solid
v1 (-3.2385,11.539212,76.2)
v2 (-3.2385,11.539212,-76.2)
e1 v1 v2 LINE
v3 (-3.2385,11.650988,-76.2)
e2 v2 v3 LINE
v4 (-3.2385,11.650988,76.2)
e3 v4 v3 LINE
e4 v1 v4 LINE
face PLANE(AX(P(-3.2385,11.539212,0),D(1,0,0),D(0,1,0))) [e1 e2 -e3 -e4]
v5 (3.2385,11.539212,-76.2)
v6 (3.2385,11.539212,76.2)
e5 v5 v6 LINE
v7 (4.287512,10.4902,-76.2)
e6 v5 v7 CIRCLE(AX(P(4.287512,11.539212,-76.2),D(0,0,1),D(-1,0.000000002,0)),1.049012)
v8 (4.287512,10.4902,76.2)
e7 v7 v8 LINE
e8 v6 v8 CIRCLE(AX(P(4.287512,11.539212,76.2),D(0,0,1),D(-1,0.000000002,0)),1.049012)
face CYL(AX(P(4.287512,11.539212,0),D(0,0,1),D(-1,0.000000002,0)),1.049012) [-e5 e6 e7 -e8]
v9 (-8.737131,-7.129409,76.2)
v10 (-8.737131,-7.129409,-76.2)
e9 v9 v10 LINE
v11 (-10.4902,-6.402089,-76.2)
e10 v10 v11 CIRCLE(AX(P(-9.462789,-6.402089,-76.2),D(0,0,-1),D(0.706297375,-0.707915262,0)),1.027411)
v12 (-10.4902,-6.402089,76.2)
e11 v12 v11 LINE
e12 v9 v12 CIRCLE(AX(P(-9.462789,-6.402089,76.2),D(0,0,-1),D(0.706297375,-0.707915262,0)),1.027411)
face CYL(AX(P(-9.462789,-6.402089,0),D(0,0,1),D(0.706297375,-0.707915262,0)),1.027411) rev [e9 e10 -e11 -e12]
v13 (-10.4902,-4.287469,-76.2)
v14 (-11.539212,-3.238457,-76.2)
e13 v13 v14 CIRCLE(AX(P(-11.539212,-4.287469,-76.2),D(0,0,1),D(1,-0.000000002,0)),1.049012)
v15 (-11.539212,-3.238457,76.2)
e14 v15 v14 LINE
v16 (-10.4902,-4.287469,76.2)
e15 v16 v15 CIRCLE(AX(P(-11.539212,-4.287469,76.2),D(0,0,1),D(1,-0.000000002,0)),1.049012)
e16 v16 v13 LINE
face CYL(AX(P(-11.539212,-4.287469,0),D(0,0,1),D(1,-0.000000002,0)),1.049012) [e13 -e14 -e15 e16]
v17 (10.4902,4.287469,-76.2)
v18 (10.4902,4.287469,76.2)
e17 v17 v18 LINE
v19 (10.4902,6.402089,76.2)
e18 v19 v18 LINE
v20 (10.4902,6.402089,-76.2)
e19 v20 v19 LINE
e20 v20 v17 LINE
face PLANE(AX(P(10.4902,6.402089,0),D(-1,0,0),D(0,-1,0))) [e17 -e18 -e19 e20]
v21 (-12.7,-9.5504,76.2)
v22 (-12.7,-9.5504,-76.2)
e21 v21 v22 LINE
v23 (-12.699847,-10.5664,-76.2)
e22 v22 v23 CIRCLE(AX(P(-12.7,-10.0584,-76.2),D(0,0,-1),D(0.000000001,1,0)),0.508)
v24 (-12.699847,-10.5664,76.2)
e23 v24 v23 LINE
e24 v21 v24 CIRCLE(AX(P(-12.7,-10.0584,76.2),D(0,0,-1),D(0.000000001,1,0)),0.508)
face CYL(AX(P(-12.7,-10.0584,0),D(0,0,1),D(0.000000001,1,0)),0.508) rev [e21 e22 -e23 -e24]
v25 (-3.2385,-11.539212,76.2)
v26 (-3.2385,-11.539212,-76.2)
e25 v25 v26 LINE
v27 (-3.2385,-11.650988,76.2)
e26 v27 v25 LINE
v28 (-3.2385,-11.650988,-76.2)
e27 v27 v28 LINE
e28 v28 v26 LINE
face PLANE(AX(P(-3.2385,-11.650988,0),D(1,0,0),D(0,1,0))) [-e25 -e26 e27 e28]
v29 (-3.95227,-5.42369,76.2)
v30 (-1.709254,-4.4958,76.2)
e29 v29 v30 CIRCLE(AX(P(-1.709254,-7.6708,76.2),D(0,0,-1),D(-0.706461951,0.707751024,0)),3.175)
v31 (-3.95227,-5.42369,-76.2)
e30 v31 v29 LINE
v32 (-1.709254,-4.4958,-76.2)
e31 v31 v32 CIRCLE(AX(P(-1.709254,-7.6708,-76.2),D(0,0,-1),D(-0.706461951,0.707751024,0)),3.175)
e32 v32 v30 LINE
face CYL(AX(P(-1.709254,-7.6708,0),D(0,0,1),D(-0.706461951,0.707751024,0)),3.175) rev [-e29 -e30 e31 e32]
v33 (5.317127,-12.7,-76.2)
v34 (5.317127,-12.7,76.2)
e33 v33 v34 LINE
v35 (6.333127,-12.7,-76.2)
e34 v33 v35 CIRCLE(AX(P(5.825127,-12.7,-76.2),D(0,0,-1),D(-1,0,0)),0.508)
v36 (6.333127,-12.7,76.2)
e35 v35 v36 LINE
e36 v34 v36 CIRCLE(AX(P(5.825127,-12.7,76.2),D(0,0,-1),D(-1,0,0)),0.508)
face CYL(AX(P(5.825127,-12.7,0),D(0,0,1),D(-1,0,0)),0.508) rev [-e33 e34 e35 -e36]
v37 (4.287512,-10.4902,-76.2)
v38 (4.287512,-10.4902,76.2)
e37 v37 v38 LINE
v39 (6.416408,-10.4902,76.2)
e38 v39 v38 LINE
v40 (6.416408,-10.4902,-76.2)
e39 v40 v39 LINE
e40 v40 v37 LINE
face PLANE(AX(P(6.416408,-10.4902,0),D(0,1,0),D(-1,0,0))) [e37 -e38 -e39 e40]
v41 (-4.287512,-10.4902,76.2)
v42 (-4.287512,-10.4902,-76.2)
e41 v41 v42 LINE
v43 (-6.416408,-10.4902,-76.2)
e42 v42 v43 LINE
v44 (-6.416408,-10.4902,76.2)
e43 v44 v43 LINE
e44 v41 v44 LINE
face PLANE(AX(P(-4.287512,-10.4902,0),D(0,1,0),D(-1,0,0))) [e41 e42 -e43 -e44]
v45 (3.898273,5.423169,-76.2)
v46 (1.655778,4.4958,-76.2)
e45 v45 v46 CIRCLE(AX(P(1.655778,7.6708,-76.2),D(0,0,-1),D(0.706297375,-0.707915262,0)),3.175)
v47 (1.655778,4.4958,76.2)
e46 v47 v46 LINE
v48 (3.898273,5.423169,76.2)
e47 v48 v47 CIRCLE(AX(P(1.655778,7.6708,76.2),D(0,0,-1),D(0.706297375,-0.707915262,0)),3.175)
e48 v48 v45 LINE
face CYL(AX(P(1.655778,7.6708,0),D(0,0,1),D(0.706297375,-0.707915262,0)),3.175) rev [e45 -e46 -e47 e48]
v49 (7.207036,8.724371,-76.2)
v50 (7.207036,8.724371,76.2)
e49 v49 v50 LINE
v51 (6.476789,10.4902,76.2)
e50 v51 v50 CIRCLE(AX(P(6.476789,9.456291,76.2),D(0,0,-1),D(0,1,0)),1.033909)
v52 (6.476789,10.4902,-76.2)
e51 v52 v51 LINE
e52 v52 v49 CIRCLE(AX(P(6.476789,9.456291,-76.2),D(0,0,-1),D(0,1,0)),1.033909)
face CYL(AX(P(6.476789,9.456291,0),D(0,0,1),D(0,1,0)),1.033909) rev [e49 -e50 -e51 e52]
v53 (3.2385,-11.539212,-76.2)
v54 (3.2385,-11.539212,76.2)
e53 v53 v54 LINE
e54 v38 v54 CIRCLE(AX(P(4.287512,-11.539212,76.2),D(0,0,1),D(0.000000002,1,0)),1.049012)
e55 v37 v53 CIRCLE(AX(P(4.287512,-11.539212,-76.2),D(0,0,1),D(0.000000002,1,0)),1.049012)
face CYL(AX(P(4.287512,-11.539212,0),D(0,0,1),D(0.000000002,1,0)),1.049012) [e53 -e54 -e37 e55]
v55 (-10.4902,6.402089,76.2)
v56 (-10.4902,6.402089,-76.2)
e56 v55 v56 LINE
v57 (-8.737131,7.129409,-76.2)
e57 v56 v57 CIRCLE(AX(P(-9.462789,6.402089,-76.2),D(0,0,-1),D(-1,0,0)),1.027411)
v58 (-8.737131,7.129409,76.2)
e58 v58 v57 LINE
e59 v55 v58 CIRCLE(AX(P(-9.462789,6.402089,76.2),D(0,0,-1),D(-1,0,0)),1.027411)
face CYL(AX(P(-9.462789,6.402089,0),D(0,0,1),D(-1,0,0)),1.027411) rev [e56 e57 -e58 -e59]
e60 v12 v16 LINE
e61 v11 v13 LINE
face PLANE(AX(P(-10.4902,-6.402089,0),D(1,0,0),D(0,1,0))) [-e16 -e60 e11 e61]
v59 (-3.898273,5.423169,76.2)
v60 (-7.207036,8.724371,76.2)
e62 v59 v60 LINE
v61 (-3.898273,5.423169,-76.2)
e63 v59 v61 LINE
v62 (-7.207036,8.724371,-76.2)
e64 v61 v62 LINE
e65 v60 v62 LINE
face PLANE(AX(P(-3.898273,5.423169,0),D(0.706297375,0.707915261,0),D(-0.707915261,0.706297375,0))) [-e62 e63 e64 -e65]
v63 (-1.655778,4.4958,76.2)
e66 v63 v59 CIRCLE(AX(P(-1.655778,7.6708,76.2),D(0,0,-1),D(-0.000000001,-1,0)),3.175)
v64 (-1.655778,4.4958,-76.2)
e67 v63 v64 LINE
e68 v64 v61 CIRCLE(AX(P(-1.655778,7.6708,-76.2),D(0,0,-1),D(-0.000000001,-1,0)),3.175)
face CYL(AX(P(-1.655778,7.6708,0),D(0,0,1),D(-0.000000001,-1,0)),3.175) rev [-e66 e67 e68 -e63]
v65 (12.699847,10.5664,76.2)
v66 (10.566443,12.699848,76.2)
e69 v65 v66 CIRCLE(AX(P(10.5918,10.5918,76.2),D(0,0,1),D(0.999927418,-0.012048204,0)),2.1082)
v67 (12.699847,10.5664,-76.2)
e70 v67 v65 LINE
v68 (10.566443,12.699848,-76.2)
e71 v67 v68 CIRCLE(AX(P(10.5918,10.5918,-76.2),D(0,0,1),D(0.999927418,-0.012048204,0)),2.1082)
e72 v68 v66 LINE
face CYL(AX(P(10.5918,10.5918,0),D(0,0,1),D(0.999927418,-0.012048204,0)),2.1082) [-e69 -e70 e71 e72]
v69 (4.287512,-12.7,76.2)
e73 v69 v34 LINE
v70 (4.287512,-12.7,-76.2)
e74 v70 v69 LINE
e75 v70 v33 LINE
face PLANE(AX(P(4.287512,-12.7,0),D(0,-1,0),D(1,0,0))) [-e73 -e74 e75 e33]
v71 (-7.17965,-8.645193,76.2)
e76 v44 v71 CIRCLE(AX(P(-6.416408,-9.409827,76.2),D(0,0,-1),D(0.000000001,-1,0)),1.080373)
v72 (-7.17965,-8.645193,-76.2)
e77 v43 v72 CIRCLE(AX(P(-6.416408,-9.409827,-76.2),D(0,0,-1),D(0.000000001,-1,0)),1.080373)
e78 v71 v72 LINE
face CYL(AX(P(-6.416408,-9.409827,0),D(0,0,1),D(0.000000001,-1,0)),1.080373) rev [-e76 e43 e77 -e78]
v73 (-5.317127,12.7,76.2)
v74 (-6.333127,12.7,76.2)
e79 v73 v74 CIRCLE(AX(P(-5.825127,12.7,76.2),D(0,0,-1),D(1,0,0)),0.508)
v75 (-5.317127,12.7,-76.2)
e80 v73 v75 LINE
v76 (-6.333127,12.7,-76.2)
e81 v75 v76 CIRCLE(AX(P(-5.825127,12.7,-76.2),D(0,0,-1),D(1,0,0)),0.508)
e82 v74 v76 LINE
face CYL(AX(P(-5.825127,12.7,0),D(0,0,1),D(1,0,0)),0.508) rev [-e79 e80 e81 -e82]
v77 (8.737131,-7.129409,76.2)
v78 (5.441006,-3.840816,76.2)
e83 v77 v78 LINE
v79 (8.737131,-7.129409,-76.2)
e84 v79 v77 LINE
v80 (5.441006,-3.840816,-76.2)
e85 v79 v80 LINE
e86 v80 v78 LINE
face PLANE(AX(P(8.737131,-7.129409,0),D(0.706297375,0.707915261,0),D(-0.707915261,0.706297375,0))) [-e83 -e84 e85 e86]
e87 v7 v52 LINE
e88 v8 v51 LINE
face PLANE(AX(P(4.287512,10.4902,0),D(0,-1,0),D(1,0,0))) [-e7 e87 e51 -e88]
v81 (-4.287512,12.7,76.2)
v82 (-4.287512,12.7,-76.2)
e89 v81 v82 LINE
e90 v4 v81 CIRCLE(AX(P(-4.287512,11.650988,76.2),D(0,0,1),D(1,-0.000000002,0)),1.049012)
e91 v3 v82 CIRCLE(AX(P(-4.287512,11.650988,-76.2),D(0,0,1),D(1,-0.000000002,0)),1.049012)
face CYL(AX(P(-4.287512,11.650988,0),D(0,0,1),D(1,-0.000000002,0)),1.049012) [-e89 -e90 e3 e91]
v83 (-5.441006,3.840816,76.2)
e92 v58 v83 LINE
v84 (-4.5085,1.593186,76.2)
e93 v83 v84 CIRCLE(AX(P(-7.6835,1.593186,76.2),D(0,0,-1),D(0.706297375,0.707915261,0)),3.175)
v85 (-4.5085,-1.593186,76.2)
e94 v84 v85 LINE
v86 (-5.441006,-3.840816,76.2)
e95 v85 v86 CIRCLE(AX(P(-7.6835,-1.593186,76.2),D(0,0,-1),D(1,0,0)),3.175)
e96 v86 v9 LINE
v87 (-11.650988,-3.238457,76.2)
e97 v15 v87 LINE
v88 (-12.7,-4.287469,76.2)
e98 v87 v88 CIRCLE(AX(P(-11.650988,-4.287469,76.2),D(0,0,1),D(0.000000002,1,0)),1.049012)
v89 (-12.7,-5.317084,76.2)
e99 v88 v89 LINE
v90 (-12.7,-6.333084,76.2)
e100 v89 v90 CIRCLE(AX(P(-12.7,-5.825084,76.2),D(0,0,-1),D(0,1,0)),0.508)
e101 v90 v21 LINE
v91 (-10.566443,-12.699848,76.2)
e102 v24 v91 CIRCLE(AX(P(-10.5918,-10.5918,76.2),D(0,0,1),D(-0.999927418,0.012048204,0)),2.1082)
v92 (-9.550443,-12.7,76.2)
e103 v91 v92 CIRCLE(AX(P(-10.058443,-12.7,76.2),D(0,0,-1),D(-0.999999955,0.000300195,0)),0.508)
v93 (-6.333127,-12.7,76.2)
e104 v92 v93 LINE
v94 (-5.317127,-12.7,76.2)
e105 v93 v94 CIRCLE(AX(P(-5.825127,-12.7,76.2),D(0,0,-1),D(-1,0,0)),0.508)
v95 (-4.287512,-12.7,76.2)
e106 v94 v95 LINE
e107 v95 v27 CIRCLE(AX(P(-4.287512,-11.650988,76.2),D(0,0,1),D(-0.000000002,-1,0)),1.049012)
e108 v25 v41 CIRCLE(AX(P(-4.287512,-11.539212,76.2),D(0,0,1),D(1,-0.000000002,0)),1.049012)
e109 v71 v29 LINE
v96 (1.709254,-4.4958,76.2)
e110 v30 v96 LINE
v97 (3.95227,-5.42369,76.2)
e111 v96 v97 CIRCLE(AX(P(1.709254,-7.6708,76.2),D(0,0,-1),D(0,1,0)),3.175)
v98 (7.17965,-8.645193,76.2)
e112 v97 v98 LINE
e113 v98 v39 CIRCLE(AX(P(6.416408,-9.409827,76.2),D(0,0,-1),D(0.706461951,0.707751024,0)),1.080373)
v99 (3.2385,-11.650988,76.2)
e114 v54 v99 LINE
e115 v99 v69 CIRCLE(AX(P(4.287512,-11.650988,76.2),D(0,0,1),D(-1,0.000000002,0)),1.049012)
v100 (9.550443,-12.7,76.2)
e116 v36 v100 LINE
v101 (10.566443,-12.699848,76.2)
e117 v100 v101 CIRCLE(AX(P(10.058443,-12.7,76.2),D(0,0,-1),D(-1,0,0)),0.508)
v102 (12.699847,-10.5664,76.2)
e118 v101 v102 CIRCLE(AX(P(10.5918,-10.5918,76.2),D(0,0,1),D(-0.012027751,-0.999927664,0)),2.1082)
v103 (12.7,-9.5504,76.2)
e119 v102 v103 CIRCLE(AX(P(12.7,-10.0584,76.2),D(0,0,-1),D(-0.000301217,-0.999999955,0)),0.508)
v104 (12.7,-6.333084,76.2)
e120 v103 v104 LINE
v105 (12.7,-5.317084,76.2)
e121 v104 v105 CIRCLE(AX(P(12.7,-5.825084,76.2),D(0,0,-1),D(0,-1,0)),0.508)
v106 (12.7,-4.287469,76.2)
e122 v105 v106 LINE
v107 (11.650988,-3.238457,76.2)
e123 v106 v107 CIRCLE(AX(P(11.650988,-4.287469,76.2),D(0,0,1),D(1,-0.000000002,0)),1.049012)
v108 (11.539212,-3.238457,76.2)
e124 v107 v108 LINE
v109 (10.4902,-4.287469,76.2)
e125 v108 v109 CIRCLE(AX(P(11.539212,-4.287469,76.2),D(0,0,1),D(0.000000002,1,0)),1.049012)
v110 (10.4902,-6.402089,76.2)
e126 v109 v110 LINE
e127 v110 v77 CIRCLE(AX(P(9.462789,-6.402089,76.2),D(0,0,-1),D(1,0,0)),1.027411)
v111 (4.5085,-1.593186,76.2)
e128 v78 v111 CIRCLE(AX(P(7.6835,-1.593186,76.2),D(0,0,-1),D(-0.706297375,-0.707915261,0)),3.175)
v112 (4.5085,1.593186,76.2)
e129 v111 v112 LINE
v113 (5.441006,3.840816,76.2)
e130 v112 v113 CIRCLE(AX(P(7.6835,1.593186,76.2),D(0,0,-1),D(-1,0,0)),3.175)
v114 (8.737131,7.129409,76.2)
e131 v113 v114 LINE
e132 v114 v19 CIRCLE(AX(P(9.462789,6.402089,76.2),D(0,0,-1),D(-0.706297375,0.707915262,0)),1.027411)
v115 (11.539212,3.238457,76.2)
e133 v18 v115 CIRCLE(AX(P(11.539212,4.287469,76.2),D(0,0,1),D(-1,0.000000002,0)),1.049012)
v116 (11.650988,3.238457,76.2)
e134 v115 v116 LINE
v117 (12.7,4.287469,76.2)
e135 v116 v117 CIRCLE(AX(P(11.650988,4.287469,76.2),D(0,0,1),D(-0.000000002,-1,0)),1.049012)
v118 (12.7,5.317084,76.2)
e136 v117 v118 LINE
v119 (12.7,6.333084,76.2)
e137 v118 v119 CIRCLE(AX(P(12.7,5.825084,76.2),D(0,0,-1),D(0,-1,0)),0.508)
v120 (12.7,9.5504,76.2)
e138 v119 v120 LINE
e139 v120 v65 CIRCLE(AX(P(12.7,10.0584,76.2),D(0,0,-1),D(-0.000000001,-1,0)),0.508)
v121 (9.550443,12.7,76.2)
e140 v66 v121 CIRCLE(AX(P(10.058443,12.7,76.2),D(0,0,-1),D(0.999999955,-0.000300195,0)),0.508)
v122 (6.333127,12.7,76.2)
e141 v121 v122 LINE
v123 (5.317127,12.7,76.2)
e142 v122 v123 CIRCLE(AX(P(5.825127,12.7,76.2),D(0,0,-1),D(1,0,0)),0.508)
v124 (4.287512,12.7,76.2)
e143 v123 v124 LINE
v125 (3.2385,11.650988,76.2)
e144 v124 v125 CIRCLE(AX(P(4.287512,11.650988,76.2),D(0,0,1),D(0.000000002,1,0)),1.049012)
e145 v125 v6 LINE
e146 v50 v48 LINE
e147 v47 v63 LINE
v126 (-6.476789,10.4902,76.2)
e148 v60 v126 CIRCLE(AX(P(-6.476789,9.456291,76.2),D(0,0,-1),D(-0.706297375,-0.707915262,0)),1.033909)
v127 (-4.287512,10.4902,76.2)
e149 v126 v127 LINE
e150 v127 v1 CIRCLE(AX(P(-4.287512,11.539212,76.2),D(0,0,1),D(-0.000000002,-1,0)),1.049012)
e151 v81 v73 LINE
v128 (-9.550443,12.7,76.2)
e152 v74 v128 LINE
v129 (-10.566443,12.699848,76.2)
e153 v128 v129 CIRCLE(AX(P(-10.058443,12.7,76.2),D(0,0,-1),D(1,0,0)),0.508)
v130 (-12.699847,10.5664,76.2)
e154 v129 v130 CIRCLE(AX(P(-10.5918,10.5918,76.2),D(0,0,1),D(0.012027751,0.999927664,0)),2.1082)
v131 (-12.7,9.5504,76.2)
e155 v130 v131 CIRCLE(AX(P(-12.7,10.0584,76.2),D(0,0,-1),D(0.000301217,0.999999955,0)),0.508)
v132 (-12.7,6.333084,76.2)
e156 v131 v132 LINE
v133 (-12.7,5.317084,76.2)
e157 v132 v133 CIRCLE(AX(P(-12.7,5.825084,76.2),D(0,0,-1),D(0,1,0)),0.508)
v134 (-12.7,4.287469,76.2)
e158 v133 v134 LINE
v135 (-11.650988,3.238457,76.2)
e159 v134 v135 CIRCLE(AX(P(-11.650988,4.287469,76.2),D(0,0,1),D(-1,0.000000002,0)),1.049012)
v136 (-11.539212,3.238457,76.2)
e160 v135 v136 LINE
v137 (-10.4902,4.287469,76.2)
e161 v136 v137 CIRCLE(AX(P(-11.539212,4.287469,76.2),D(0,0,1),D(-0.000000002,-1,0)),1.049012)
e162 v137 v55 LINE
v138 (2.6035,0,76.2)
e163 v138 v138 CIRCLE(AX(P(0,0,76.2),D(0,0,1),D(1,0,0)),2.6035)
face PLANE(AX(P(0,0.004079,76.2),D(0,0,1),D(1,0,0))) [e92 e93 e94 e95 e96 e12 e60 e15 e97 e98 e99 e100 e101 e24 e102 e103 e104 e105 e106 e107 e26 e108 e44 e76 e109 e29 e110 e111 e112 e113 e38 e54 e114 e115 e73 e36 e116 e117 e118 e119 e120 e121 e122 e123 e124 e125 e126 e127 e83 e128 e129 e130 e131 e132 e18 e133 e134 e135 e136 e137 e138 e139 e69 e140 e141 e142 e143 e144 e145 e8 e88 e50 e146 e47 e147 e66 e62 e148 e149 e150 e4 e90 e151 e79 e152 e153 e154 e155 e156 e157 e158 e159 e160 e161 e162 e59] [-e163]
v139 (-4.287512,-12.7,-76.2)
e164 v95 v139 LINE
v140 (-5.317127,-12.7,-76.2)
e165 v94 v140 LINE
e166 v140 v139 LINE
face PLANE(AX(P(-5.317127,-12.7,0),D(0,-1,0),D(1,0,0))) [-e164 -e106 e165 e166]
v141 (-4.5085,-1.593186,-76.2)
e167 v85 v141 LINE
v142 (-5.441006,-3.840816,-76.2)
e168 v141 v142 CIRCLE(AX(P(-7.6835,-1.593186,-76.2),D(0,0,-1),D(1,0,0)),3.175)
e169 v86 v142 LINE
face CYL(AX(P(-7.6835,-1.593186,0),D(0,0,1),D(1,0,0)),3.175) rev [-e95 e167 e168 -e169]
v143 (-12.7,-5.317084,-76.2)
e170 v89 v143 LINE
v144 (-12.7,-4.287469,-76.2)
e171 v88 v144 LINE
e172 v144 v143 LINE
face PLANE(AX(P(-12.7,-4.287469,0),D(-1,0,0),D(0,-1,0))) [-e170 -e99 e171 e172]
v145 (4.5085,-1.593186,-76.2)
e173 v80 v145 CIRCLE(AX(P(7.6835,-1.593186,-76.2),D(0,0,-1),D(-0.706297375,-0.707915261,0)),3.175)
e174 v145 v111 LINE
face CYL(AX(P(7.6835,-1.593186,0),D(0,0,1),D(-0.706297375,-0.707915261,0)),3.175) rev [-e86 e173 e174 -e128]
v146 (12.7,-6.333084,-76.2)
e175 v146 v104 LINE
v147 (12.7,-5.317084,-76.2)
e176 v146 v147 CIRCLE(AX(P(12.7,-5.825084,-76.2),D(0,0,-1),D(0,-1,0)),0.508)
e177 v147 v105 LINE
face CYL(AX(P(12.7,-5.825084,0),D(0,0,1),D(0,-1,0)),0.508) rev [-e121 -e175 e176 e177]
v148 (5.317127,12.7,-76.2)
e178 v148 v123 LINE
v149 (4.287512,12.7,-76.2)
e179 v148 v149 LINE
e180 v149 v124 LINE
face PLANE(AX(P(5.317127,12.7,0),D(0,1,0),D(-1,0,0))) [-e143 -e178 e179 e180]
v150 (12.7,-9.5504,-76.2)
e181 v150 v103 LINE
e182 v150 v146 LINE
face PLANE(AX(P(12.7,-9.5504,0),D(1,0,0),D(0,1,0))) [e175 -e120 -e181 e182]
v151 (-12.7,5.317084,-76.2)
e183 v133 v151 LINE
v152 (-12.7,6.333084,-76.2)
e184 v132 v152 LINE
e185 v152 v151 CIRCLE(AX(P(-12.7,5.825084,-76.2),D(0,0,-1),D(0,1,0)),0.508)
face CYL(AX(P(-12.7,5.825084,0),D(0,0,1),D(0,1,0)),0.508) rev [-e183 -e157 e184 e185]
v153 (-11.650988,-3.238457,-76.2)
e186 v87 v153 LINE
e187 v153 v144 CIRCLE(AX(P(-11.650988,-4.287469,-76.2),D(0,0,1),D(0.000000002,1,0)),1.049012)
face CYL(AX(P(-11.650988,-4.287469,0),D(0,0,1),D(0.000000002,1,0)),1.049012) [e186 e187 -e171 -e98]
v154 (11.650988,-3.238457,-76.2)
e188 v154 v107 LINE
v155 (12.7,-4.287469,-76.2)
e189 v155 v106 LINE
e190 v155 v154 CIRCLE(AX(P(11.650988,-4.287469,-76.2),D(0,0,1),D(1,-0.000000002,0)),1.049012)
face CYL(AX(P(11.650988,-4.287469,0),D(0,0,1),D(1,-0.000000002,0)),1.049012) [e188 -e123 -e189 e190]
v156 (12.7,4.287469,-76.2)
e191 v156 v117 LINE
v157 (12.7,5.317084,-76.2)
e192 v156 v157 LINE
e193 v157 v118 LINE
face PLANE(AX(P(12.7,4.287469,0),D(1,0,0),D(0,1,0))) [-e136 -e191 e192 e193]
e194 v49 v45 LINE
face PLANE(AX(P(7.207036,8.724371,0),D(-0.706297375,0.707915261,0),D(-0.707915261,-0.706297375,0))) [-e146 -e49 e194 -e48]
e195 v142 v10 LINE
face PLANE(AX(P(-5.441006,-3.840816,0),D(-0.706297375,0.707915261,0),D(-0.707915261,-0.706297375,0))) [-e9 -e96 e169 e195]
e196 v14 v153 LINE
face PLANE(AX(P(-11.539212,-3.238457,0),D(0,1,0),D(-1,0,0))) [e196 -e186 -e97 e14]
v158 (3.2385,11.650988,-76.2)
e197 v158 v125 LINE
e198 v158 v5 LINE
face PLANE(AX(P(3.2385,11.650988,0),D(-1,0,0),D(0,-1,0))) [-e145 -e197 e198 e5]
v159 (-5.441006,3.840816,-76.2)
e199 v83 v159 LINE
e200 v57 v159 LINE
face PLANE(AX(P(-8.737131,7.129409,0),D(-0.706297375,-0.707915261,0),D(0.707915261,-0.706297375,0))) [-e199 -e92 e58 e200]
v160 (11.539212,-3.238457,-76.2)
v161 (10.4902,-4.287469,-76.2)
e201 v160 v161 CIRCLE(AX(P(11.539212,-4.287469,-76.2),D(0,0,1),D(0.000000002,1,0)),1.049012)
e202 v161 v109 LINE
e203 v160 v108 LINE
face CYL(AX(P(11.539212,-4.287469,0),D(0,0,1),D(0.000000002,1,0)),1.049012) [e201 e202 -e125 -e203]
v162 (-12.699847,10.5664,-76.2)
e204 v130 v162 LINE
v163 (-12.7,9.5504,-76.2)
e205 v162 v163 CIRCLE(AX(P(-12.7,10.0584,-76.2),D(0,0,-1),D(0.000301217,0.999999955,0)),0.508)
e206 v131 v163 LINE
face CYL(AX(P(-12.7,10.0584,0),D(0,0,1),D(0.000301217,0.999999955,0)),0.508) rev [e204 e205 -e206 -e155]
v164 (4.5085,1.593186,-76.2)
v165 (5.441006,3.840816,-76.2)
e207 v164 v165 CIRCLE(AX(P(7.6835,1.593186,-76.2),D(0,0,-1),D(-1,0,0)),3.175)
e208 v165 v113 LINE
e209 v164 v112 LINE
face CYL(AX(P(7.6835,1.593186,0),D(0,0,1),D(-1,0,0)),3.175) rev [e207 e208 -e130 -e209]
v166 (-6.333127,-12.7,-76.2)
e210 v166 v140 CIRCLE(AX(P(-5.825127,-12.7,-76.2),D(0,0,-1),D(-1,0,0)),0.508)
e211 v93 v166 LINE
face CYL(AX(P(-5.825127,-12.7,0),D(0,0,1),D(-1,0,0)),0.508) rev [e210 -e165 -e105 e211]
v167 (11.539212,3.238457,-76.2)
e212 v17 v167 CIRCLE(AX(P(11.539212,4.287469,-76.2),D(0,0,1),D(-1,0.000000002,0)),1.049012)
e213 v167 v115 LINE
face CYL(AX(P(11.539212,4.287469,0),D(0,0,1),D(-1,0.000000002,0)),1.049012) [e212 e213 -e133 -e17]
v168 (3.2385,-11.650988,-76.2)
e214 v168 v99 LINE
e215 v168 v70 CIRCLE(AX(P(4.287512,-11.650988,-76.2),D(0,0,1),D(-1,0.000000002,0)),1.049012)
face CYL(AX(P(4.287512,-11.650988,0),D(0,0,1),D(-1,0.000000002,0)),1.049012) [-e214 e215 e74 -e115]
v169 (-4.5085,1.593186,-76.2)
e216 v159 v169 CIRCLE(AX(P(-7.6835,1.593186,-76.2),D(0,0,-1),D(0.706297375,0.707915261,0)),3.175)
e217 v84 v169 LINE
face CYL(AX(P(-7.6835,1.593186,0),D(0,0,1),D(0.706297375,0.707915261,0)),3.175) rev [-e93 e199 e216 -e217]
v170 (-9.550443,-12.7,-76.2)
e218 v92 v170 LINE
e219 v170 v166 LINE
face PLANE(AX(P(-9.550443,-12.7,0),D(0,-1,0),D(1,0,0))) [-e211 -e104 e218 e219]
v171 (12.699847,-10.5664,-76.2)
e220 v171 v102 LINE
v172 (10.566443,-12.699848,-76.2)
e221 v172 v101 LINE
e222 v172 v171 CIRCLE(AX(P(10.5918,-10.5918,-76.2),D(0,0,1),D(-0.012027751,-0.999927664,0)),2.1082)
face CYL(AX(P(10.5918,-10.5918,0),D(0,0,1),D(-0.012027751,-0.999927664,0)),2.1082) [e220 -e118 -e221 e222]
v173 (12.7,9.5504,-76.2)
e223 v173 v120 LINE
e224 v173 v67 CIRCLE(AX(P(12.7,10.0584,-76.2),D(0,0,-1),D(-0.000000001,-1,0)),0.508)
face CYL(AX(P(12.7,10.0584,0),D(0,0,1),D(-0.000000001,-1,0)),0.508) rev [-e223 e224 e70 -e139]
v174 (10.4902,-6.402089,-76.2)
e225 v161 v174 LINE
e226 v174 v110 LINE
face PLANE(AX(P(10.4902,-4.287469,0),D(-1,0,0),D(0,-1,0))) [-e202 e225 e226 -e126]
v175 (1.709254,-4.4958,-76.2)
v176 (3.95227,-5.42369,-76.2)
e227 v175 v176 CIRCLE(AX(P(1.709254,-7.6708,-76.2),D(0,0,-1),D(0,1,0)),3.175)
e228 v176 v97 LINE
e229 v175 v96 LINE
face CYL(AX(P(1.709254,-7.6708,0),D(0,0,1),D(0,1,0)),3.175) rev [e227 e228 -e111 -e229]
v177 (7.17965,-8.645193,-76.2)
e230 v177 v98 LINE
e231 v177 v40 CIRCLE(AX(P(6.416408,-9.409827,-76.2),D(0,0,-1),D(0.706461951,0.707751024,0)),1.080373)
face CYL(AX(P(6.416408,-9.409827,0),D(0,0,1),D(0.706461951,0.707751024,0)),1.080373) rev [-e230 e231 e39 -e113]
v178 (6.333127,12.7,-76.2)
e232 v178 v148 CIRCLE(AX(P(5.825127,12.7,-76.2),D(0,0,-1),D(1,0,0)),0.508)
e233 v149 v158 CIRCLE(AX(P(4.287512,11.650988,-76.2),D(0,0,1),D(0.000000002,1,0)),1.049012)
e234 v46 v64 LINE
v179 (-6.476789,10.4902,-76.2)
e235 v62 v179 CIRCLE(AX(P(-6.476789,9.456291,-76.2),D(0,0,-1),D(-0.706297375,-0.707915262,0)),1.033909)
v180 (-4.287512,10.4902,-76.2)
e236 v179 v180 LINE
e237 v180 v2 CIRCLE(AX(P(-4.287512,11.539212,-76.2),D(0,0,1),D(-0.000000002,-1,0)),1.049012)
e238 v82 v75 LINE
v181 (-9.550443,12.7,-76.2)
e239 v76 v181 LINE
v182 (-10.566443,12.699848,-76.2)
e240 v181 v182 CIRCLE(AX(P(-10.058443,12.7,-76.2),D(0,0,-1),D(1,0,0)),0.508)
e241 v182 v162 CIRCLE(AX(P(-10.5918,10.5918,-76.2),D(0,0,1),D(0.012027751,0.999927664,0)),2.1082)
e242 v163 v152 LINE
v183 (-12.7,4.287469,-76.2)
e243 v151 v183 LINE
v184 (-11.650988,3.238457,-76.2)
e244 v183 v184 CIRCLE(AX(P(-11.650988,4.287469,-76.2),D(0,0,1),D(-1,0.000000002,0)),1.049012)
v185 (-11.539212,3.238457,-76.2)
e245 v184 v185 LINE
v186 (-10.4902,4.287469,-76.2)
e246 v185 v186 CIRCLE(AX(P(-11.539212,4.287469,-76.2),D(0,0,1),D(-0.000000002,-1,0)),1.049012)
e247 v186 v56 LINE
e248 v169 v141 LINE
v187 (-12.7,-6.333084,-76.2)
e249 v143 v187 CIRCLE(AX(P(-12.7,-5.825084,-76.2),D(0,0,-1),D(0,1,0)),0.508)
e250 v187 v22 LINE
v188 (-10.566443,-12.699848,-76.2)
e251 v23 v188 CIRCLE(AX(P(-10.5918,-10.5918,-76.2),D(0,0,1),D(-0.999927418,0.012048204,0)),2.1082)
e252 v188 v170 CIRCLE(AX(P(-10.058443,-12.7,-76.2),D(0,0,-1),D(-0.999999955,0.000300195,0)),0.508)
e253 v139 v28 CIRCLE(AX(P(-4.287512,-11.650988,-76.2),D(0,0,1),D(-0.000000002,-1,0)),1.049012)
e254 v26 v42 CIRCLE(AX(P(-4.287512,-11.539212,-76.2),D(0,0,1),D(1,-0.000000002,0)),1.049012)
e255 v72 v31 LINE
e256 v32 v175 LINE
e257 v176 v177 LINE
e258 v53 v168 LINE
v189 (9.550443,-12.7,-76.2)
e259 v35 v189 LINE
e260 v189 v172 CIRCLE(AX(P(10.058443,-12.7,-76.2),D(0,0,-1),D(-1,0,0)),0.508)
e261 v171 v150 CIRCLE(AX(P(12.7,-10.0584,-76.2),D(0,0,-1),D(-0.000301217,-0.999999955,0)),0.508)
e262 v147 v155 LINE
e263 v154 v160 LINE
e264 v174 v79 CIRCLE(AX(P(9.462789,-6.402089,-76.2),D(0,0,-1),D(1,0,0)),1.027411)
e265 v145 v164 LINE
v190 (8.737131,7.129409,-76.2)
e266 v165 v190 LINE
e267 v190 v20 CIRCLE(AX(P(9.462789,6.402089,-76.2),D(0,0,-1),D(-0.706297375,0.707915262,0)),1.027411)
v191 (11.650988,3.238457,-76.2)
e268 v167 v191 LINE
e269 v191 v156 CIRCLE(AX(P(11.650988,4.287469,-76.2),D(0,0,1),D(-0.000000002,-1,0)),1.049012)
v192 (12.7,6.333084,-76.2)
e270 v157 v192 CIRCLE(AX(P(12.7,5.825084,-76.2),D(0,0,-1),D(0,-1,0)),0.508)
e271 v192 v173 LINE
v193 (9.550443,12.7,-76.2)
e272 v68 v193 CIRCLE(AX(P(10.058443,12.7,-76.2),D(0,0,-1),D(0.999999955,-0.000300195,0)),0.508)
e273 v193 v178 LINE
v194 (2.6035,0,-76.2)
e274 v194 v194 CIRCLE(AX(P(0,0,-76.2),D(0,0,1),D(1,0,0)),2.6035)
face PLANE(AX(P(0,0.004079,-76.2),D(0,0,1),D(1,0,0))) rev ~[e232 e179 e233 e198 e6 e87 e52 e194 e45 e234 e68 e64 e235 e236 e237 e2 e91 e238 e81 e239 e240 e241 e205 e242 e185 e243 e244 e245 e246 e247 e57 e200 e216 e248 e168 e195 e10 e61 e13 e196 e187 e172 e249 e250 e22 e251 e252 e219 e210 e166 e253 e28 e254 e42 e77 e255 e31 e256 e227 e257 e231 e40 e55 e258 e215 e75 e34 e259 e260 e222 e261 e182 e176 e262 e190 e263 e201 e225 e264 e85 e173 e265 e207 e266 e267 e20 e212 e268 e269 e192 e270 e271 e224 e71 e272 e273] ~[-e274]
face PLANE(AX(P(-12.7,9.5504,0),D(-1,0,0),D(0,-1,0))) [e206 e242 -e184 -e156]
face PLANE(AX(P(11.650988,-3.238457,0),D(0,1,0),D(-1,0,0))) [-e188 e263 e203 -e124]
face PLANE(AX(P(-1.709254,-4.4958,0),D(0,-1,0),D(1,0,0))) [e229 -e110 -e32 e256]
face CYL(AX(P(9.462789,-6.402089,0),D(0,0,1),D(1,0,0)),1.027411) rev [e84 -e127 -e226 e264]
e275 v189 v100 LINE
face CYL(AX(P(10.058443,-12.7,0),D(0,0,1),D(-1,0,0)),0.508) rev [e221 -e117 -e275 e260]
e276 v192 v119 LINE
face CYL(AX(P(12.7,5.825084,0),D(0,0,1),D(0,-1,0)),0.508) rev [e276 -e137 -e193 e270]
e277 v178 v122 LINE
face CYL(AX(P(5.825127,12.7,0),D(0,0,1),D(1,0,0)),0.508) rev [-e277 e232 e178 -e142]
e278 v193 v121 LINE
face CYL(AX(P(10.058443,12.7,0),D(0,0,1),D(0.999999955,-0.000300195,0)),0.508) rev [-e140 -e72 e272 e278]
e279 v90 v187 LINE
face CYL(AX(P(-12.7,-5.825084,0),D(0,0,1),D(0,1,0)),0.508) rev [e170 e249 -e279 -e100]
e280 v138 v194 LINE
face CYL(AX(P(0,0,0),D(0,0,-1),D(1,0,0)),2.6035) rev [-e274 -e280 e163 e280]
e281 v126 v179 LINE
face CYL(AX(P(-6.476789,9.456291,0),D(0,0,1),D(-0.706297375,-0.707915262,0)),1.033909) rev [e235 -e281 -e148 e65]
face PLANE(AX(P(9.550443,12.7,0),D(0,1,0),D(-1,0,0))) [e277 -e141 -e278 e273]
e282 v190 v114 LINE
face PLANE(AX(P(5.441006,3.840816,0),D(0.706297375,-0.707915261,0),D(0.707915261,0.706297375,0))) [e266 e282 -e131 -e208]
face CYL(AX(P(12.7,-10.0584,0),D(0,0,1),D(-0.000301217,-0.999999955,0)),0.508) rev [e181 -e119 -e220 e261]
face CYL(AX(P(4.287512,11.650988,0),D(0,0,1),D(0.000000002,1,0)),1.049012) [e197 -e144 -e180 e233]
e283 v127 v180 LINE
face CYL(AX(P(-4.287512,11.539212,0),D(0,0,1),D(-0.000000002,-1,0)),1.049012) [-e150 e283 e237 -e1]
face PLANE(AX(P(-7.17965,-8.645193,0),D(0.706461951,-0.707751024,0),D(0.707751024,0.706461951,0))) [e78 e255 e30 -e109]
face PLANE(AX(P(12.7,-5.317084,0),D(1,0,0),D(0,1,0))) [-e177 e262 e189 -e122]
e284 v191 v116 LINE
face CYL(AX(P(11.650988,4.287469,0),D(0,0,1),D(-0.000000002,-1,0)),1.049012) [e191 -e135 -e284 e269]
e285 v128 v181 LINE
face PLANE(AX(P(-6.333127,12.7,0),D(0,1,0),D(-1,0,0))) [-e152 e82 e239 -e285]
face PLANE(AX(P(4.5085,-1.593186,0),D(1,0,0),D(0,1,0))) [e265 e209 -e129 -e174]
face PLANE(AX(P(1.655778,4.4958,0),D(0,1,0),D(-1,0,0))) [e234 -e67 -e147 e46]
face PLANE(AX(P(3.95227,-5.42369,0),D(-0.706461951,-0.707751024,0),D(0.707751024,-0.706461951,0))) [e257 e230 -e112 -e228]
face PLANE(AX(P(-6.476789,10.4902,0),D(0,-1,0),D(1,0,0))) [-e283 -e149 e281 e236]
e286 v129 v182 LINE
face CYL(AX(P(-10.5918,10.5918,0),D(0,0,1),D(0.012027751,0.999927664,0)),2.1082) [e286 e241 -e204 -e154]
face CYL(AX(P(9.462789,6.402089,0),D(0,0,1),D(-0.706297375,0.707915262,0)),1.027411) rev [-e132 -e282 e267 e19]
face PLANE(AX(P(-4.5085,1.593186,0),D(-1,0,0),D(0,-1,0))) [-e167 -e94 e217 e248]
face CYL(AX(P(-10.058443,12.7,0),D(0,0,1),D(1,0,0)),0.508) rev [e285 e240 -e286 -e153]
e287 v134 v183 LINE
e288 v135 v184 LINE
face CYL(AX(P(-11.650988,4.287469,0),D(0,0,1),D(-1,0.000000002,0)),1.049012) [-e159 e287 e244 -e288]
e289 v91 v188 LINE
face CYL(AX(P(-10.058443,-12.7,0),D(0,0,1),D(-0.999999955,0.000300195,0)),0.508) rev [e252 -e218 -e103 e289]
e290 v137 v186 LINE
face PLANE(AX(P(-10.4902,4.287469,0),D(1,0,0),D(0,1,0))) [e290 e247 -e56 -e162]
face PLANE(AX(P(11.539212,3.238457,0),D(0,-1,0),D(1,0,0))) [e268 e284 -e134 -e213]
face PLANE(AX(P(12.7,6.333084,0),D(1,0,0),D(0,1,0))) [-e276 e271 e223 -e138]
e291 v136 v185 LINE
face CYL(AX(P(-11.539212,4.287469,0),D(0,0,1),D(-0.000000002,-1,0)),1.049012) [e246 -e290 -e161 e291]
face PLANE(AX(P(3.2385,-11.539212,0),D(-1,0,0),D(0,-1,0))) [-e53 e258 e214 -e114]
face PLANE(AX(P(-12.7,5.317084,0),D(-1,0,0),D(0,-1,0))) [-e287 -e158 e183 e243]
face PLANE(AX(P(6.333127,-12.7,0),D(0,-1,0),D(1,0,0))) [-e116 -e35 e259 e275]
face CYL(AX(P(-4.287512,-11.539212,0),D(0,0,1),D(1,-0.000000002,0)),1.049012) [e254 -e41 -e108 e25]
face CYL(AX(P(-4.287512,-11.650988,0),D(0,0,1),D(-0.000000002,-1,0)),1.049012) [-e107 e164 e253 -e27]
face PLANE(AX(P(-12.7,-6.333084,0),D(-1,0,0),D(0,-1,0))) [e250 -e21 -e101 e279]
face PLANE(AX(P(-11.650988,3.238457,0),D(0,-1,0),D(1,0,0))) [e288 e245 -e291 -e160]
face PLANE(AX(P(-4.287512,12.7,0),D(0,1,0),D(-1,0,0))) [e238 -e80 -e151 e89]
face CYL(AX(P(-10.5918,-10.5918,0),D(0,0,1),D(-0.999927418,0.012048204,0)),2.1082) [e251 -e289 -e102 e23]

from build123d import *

# Parameters (mm, degrees)
SKETCH1_R           = 2.6035
BOSS_EXTRUDE1_DEPTH = 76.2


with BuildPart() as part:
    # Sketch1 → Boss-Extrude1 (new body, symmetric)
    with BuildSketch(Plane.XY):
        with BuildLine():
            Line((-7.179650497, -8.645192506), (-3.952270251, -5.423690499))
            ThreePointArc((-3.952270251, -5.423690499), (-2.922936451, -4.736929036), (-1.709253557, -4.4958))
            Line((-1.709253557, -4.4958), (1.709253557, -4.4958))
            ThreePointArc((1.709253557, -4.4958), (2.922936451, -4.736929036), (3.952270251, -5.423690499))
            Line((3.952270251, -5.423690499), (7.179650497, -8.645192506))
            ThreePointArc((7.179650497, -8.645192506), (7.41473083, -9.822813117), (6.416408329, -10.4902))
            Line((6.416408329, -10.4902), (4.287512407, -10.4902))
            ThreePointArc((4.287512407, -10.4902), (3.54574862, -10.79744862), (3.2385, -11.539212407))
            Line((3.2385, -11.539212407), (3.2385, -11.650987593))
            ThreePointArc((3.2385, -11.650987593), (3.54574862, -12.39275138), (4.287512407, -12.7))
            Line((4.287512407, -12.7), (5.317126718, -12.7))
            ThreePointArc((5.317126718, -12.7), (5.825126718, -12.192), (6.333126718, -12.7))
            Line((6.333126718, -12.7), (9.550443118, -12.7))
            ThreePointArc((9.550443118, -12.7), (10.058366869, -12.192000006), (10.566443095, -12.699847501))
            ThreePointArc((10.566443095, -12.699847501), (12.082537762, -12.08250727), (12.699846982, -10.566399977))
            ThreePointArc((12.699846982, -10.566399977), (12.192000006, -10.058323491), (12.7, -9.5504))
            Line((12.7, -9.5504), (12.7, -6.3330836))
            ThreePointArc((12.7, -6.3330836), (12.192, -5.8250836), (12.7, -5.3170836))
            Line((12.7, -5.3170836), (12.7, -4.287469289))
            ThreePointArc((12.7, -4.287469289), (12.39275138, -3.545705502), (11.650987593, -3.238456882))
            Line((11.650987593, -3.238456882), (11.539212407, -3.238456882))
            ThreePointArc((11.539212407, -3.238456882), (10.79744862, -3.545705502), (10.4902, -4.287469289))
            Line((10.4902, -4.287469289), (10.4902, -6.402089023))
            ThreePointArc((10.4902, -6.402089023), (9.856505071, -7.351067942), (8.737131347, -7.129408934))
            Line((8.737131347, -7.129408934), (5.441005833, -3.840816462))
            ThreePointArc((5.441005833, -3.840816462), (4.750877967, -2.809883091), (4.5085, -1.593185507))
            Line((4.5085, -1.593185507), (4.5085, 1.593185507))
            ThreePointArc((4.5085, 1.593185507), (4.750877967, 2.809883091), (5.441005833, 3.840816462))
            Line((5.441005833, 3.840816462), (8.737131347, 7.129408934))
            ThreePointArc((8.737131347, 7.129408934), (9.856505071, 7.351067942), (10.4902, 6.402089023))
            Line((10.4902, 6.402089023), (10.4902, 4.287469289))
            ThreePointArc((10.4902, 4.287469289), (10.79744862, 3.545705502), (11.539212407, 3.238456882))
            Line((11.539212407, 3.238456882), (11.650987593, 3.238456882))
            ThreePointArc((11.650987593, 3.238456882), (12.39275138, 3.545705502), (12.7, 4.287469289))
            Line((12.7, 4.287469289), (12.7, 5.3170836))
            ThreePointArc((12.7, 5.3170836), (12.192, 5.8250836), (12.7, 6.3330836))
            Line((12.7, 6.3330836), (12.7, 9.5504))
            ThreePointArc((12.7, 9.5504), (12.192000006, 10.058323491), (12.699846982, 10.566399977))
            ThreePointArc((12.699846982, 10.566399977), (12.082537762, 12.08250727), (10.566443095, 12.699847501))
            ThreePointArc((10.566443095, 12.699847501), (10.058366869, 12.192000006), (9.550443118, 12.7))
            Line((9.550443118, 12.7), (6.333126718, 12.7))
            ThreePointArc((6.333126718, 12.7), (5.825126718, 12.192), (5.317126718, 12.7))
            Line((5.317126718, 12.7), (4.287512407, 12.7))
            ThreePointArc((4.287512407, 12.7), (3.54574862, 12.39275138), (3.2385, 11.650987593))
            Line((3.2385, 11.650987593), (3.2385, 11.539212407))
            ThreePointArc((3.2385, 11.539212407), (3.54574862, 10.79744862), (4.287512407, 10.4902))
            Line((4.287512407, 10.4902), (6.476788598, 10.4902))
            ThreePointArc((6.476788598, 10.4902), (7.432222385, 9.85140422), (7.207036008, 8.724370562))
            Line((7.207036008, 8.724370562), (3.898272566, 5.423169045))
            ThreePointArc((3.898272566, 5.423169045), (2.869120213, 4.736787962), (1.655778399, 4.4958))
            Line((1.655778399, 4.4958), (-1.655778399, 4.4958))
            ThreePointArc((-1.655778399, 4.4958), (-2.869120213, 4.736787962), (-3.898272566, 5.423169045))
            Line((-3.898272566, 5.423169045), (-7.207036008, 8.724370562))
            ThreePointArc((-7.207036008, 8.724370562), (-7.432222385, 9.85140422), (-6.476788598, 10.4902))
            Line((-6.476788598, 10.4902), (-4.287512407, 10.4902))
            ThreePointArc((-4.287512407, 10.4902), (-3.54574862, 10.79744862), (-3.2385, 11.539212407))
            Line((-3.2385, 11.539212407), (-3.2385, 11.650987593))
            ThreePointArc((-3.2385, 11.650987593), (-3.54574862, 12.39275138), (-4.287512407, 12.7))
            Line((-4.287512407, 12.7), (-5.317126718, 12.7))
            ThreePointArc((-5.317126718, 12.7), (-5.825126718, 12.192), (-6.333126718, 12.7))
            Line((-6.333126718, 12.7), (-9.550443118, 12.7))
            ThreePointArc((-9.550443118, 12.7), (-10.058366869, 12.192000006), (-10.566443095, 12.699847501))
            ThreePointArc((-10.566443095, 12.699847501), (-12.082537762, 12.08250727), (-12.699846982, 10.566399977))
            ThreePointArc((-12.699846982, 10.566399977), (-12.192000006, 10.058323491), (-12.7, 9.5504))
            Line((-12.7, 9.5504), (-12.7, 6.3330836))
            ThreePointArc((-12.7, 6.3330836), (-12.192, 5.8250836), (-12.7, 5.3170836))
            Line((-12.7, 5.3170836), (-12.7, 4.287469289))
            ThreePointArc((-12.7, 4.287469289), (-12.39275138, 3.545705502), (-11.650987593, 3.238456882))
            Line((-11.650987593, 3.238456882), (-11.539212407, 3.238456882))
            ThreePointArc((-11.539212407, 3.238456882), (-10.79744862, 3.545705502), (-10.4902, 4.287469289))
            Line((-10.4902, 4.287469289), (-10.4902, 6.402089023))
            ThreePointArc((-10.4902, 6.402089023), (-9.856505071, 7.351067942), (-8.737131347, 7.129408934))
            Line((-8.737131347, 7.129408934), (-5.441005833, 3.840816462))
            ThreePointArc((-5.441005833, 3.840816462), (-4.750877967, 2.809883091), (-4.5085, 1.593185507))
            Line((-4.5085, 1.593185507), (-4.5085, -1.593185507))
            ThreePointArc((-4.5085, -1.593185507), (-4.750877967, -2.809883091), (-5.441005833, -3.840816462))
            Line((-5.441005833, -3.840816462), (-8.737131347, -7.129408934))
            ThreePointArc((-8.737131347, -7.129408934), (-9.856505071, -7.351067942), (-10.4902, -6.402089023))
            Line((-10.4902, -6.402089023), (-10.4902, -4.287469289))
            ThreePointArc((-10.4902, -4.287469289), (-10.79744862, -3.545705502), (-11.539212407, -3.238456882))
            Line((-11.539212407, -3.238456882), (-11.650987593, -3.238456882))
            ThreePointArc((-11.650987593, -3.238456882), (-12.39275138, -3.545705502), (-12.7, -4.287469289))
            Line((-12.7, -4.287469289), (-12.7, -5.3170836))
            ThreePointArc((-12.7, -5.3170836), (-12.192, -5.8250836), (-12.7, -6.3330836))
            Line((-12.7, -6.3330836), (-12.7, -9.5504))
            ThreePointArc((-12.7, -9.5504), (-12.192000006, -10.058323491), (-12.699846982, -10.566399977))
            ThreePointArc((-12.699846982, -10.566399977), (-12.082537762, -12.08250727), (-10.566443095, -12.699847501))
            ThreePointArc((-10.566443095, -12.699847501), (-10.058366869, -12.192000006), (-9.550443118, -12.7))
            Line((-9.550443118, -12.7), (-6.333126718, -12.7))
            ThreePointArc((-6.333126718, -12.7), (-5.825126718, -12.192), (-5.317126718, -12.7))
            Line((-5.317126718, -12.7), (-4.287512407, -12.7))
            ThreePointArc((-4.287512407, -12.7), (-3.54574862, -12.39275138), (-3.2385, -11.650987593))
            Line((-3.2385, -11.650987593), (-3.2385, -11.539212407))
            ThreePointArc((-3.2385, -11.539212407), (-3.54574862, -10.79744862), (-4.287512407, -10.4902))
            Line((-4.287512407, -10.4902), (-6.416408329, -10.4902))
            ThreePointArc((-6.416408329, -10.4902), (-7.41473083, -9.822813117), (-7.179650497, -8.645192506))
        make_face()
        Circle(SKETCH1_R, mode=Mode.SUBTRACT)
    extrude(amount=BOSS_EXTRUDE1_DEPTH, both=True)


solid = part.part
